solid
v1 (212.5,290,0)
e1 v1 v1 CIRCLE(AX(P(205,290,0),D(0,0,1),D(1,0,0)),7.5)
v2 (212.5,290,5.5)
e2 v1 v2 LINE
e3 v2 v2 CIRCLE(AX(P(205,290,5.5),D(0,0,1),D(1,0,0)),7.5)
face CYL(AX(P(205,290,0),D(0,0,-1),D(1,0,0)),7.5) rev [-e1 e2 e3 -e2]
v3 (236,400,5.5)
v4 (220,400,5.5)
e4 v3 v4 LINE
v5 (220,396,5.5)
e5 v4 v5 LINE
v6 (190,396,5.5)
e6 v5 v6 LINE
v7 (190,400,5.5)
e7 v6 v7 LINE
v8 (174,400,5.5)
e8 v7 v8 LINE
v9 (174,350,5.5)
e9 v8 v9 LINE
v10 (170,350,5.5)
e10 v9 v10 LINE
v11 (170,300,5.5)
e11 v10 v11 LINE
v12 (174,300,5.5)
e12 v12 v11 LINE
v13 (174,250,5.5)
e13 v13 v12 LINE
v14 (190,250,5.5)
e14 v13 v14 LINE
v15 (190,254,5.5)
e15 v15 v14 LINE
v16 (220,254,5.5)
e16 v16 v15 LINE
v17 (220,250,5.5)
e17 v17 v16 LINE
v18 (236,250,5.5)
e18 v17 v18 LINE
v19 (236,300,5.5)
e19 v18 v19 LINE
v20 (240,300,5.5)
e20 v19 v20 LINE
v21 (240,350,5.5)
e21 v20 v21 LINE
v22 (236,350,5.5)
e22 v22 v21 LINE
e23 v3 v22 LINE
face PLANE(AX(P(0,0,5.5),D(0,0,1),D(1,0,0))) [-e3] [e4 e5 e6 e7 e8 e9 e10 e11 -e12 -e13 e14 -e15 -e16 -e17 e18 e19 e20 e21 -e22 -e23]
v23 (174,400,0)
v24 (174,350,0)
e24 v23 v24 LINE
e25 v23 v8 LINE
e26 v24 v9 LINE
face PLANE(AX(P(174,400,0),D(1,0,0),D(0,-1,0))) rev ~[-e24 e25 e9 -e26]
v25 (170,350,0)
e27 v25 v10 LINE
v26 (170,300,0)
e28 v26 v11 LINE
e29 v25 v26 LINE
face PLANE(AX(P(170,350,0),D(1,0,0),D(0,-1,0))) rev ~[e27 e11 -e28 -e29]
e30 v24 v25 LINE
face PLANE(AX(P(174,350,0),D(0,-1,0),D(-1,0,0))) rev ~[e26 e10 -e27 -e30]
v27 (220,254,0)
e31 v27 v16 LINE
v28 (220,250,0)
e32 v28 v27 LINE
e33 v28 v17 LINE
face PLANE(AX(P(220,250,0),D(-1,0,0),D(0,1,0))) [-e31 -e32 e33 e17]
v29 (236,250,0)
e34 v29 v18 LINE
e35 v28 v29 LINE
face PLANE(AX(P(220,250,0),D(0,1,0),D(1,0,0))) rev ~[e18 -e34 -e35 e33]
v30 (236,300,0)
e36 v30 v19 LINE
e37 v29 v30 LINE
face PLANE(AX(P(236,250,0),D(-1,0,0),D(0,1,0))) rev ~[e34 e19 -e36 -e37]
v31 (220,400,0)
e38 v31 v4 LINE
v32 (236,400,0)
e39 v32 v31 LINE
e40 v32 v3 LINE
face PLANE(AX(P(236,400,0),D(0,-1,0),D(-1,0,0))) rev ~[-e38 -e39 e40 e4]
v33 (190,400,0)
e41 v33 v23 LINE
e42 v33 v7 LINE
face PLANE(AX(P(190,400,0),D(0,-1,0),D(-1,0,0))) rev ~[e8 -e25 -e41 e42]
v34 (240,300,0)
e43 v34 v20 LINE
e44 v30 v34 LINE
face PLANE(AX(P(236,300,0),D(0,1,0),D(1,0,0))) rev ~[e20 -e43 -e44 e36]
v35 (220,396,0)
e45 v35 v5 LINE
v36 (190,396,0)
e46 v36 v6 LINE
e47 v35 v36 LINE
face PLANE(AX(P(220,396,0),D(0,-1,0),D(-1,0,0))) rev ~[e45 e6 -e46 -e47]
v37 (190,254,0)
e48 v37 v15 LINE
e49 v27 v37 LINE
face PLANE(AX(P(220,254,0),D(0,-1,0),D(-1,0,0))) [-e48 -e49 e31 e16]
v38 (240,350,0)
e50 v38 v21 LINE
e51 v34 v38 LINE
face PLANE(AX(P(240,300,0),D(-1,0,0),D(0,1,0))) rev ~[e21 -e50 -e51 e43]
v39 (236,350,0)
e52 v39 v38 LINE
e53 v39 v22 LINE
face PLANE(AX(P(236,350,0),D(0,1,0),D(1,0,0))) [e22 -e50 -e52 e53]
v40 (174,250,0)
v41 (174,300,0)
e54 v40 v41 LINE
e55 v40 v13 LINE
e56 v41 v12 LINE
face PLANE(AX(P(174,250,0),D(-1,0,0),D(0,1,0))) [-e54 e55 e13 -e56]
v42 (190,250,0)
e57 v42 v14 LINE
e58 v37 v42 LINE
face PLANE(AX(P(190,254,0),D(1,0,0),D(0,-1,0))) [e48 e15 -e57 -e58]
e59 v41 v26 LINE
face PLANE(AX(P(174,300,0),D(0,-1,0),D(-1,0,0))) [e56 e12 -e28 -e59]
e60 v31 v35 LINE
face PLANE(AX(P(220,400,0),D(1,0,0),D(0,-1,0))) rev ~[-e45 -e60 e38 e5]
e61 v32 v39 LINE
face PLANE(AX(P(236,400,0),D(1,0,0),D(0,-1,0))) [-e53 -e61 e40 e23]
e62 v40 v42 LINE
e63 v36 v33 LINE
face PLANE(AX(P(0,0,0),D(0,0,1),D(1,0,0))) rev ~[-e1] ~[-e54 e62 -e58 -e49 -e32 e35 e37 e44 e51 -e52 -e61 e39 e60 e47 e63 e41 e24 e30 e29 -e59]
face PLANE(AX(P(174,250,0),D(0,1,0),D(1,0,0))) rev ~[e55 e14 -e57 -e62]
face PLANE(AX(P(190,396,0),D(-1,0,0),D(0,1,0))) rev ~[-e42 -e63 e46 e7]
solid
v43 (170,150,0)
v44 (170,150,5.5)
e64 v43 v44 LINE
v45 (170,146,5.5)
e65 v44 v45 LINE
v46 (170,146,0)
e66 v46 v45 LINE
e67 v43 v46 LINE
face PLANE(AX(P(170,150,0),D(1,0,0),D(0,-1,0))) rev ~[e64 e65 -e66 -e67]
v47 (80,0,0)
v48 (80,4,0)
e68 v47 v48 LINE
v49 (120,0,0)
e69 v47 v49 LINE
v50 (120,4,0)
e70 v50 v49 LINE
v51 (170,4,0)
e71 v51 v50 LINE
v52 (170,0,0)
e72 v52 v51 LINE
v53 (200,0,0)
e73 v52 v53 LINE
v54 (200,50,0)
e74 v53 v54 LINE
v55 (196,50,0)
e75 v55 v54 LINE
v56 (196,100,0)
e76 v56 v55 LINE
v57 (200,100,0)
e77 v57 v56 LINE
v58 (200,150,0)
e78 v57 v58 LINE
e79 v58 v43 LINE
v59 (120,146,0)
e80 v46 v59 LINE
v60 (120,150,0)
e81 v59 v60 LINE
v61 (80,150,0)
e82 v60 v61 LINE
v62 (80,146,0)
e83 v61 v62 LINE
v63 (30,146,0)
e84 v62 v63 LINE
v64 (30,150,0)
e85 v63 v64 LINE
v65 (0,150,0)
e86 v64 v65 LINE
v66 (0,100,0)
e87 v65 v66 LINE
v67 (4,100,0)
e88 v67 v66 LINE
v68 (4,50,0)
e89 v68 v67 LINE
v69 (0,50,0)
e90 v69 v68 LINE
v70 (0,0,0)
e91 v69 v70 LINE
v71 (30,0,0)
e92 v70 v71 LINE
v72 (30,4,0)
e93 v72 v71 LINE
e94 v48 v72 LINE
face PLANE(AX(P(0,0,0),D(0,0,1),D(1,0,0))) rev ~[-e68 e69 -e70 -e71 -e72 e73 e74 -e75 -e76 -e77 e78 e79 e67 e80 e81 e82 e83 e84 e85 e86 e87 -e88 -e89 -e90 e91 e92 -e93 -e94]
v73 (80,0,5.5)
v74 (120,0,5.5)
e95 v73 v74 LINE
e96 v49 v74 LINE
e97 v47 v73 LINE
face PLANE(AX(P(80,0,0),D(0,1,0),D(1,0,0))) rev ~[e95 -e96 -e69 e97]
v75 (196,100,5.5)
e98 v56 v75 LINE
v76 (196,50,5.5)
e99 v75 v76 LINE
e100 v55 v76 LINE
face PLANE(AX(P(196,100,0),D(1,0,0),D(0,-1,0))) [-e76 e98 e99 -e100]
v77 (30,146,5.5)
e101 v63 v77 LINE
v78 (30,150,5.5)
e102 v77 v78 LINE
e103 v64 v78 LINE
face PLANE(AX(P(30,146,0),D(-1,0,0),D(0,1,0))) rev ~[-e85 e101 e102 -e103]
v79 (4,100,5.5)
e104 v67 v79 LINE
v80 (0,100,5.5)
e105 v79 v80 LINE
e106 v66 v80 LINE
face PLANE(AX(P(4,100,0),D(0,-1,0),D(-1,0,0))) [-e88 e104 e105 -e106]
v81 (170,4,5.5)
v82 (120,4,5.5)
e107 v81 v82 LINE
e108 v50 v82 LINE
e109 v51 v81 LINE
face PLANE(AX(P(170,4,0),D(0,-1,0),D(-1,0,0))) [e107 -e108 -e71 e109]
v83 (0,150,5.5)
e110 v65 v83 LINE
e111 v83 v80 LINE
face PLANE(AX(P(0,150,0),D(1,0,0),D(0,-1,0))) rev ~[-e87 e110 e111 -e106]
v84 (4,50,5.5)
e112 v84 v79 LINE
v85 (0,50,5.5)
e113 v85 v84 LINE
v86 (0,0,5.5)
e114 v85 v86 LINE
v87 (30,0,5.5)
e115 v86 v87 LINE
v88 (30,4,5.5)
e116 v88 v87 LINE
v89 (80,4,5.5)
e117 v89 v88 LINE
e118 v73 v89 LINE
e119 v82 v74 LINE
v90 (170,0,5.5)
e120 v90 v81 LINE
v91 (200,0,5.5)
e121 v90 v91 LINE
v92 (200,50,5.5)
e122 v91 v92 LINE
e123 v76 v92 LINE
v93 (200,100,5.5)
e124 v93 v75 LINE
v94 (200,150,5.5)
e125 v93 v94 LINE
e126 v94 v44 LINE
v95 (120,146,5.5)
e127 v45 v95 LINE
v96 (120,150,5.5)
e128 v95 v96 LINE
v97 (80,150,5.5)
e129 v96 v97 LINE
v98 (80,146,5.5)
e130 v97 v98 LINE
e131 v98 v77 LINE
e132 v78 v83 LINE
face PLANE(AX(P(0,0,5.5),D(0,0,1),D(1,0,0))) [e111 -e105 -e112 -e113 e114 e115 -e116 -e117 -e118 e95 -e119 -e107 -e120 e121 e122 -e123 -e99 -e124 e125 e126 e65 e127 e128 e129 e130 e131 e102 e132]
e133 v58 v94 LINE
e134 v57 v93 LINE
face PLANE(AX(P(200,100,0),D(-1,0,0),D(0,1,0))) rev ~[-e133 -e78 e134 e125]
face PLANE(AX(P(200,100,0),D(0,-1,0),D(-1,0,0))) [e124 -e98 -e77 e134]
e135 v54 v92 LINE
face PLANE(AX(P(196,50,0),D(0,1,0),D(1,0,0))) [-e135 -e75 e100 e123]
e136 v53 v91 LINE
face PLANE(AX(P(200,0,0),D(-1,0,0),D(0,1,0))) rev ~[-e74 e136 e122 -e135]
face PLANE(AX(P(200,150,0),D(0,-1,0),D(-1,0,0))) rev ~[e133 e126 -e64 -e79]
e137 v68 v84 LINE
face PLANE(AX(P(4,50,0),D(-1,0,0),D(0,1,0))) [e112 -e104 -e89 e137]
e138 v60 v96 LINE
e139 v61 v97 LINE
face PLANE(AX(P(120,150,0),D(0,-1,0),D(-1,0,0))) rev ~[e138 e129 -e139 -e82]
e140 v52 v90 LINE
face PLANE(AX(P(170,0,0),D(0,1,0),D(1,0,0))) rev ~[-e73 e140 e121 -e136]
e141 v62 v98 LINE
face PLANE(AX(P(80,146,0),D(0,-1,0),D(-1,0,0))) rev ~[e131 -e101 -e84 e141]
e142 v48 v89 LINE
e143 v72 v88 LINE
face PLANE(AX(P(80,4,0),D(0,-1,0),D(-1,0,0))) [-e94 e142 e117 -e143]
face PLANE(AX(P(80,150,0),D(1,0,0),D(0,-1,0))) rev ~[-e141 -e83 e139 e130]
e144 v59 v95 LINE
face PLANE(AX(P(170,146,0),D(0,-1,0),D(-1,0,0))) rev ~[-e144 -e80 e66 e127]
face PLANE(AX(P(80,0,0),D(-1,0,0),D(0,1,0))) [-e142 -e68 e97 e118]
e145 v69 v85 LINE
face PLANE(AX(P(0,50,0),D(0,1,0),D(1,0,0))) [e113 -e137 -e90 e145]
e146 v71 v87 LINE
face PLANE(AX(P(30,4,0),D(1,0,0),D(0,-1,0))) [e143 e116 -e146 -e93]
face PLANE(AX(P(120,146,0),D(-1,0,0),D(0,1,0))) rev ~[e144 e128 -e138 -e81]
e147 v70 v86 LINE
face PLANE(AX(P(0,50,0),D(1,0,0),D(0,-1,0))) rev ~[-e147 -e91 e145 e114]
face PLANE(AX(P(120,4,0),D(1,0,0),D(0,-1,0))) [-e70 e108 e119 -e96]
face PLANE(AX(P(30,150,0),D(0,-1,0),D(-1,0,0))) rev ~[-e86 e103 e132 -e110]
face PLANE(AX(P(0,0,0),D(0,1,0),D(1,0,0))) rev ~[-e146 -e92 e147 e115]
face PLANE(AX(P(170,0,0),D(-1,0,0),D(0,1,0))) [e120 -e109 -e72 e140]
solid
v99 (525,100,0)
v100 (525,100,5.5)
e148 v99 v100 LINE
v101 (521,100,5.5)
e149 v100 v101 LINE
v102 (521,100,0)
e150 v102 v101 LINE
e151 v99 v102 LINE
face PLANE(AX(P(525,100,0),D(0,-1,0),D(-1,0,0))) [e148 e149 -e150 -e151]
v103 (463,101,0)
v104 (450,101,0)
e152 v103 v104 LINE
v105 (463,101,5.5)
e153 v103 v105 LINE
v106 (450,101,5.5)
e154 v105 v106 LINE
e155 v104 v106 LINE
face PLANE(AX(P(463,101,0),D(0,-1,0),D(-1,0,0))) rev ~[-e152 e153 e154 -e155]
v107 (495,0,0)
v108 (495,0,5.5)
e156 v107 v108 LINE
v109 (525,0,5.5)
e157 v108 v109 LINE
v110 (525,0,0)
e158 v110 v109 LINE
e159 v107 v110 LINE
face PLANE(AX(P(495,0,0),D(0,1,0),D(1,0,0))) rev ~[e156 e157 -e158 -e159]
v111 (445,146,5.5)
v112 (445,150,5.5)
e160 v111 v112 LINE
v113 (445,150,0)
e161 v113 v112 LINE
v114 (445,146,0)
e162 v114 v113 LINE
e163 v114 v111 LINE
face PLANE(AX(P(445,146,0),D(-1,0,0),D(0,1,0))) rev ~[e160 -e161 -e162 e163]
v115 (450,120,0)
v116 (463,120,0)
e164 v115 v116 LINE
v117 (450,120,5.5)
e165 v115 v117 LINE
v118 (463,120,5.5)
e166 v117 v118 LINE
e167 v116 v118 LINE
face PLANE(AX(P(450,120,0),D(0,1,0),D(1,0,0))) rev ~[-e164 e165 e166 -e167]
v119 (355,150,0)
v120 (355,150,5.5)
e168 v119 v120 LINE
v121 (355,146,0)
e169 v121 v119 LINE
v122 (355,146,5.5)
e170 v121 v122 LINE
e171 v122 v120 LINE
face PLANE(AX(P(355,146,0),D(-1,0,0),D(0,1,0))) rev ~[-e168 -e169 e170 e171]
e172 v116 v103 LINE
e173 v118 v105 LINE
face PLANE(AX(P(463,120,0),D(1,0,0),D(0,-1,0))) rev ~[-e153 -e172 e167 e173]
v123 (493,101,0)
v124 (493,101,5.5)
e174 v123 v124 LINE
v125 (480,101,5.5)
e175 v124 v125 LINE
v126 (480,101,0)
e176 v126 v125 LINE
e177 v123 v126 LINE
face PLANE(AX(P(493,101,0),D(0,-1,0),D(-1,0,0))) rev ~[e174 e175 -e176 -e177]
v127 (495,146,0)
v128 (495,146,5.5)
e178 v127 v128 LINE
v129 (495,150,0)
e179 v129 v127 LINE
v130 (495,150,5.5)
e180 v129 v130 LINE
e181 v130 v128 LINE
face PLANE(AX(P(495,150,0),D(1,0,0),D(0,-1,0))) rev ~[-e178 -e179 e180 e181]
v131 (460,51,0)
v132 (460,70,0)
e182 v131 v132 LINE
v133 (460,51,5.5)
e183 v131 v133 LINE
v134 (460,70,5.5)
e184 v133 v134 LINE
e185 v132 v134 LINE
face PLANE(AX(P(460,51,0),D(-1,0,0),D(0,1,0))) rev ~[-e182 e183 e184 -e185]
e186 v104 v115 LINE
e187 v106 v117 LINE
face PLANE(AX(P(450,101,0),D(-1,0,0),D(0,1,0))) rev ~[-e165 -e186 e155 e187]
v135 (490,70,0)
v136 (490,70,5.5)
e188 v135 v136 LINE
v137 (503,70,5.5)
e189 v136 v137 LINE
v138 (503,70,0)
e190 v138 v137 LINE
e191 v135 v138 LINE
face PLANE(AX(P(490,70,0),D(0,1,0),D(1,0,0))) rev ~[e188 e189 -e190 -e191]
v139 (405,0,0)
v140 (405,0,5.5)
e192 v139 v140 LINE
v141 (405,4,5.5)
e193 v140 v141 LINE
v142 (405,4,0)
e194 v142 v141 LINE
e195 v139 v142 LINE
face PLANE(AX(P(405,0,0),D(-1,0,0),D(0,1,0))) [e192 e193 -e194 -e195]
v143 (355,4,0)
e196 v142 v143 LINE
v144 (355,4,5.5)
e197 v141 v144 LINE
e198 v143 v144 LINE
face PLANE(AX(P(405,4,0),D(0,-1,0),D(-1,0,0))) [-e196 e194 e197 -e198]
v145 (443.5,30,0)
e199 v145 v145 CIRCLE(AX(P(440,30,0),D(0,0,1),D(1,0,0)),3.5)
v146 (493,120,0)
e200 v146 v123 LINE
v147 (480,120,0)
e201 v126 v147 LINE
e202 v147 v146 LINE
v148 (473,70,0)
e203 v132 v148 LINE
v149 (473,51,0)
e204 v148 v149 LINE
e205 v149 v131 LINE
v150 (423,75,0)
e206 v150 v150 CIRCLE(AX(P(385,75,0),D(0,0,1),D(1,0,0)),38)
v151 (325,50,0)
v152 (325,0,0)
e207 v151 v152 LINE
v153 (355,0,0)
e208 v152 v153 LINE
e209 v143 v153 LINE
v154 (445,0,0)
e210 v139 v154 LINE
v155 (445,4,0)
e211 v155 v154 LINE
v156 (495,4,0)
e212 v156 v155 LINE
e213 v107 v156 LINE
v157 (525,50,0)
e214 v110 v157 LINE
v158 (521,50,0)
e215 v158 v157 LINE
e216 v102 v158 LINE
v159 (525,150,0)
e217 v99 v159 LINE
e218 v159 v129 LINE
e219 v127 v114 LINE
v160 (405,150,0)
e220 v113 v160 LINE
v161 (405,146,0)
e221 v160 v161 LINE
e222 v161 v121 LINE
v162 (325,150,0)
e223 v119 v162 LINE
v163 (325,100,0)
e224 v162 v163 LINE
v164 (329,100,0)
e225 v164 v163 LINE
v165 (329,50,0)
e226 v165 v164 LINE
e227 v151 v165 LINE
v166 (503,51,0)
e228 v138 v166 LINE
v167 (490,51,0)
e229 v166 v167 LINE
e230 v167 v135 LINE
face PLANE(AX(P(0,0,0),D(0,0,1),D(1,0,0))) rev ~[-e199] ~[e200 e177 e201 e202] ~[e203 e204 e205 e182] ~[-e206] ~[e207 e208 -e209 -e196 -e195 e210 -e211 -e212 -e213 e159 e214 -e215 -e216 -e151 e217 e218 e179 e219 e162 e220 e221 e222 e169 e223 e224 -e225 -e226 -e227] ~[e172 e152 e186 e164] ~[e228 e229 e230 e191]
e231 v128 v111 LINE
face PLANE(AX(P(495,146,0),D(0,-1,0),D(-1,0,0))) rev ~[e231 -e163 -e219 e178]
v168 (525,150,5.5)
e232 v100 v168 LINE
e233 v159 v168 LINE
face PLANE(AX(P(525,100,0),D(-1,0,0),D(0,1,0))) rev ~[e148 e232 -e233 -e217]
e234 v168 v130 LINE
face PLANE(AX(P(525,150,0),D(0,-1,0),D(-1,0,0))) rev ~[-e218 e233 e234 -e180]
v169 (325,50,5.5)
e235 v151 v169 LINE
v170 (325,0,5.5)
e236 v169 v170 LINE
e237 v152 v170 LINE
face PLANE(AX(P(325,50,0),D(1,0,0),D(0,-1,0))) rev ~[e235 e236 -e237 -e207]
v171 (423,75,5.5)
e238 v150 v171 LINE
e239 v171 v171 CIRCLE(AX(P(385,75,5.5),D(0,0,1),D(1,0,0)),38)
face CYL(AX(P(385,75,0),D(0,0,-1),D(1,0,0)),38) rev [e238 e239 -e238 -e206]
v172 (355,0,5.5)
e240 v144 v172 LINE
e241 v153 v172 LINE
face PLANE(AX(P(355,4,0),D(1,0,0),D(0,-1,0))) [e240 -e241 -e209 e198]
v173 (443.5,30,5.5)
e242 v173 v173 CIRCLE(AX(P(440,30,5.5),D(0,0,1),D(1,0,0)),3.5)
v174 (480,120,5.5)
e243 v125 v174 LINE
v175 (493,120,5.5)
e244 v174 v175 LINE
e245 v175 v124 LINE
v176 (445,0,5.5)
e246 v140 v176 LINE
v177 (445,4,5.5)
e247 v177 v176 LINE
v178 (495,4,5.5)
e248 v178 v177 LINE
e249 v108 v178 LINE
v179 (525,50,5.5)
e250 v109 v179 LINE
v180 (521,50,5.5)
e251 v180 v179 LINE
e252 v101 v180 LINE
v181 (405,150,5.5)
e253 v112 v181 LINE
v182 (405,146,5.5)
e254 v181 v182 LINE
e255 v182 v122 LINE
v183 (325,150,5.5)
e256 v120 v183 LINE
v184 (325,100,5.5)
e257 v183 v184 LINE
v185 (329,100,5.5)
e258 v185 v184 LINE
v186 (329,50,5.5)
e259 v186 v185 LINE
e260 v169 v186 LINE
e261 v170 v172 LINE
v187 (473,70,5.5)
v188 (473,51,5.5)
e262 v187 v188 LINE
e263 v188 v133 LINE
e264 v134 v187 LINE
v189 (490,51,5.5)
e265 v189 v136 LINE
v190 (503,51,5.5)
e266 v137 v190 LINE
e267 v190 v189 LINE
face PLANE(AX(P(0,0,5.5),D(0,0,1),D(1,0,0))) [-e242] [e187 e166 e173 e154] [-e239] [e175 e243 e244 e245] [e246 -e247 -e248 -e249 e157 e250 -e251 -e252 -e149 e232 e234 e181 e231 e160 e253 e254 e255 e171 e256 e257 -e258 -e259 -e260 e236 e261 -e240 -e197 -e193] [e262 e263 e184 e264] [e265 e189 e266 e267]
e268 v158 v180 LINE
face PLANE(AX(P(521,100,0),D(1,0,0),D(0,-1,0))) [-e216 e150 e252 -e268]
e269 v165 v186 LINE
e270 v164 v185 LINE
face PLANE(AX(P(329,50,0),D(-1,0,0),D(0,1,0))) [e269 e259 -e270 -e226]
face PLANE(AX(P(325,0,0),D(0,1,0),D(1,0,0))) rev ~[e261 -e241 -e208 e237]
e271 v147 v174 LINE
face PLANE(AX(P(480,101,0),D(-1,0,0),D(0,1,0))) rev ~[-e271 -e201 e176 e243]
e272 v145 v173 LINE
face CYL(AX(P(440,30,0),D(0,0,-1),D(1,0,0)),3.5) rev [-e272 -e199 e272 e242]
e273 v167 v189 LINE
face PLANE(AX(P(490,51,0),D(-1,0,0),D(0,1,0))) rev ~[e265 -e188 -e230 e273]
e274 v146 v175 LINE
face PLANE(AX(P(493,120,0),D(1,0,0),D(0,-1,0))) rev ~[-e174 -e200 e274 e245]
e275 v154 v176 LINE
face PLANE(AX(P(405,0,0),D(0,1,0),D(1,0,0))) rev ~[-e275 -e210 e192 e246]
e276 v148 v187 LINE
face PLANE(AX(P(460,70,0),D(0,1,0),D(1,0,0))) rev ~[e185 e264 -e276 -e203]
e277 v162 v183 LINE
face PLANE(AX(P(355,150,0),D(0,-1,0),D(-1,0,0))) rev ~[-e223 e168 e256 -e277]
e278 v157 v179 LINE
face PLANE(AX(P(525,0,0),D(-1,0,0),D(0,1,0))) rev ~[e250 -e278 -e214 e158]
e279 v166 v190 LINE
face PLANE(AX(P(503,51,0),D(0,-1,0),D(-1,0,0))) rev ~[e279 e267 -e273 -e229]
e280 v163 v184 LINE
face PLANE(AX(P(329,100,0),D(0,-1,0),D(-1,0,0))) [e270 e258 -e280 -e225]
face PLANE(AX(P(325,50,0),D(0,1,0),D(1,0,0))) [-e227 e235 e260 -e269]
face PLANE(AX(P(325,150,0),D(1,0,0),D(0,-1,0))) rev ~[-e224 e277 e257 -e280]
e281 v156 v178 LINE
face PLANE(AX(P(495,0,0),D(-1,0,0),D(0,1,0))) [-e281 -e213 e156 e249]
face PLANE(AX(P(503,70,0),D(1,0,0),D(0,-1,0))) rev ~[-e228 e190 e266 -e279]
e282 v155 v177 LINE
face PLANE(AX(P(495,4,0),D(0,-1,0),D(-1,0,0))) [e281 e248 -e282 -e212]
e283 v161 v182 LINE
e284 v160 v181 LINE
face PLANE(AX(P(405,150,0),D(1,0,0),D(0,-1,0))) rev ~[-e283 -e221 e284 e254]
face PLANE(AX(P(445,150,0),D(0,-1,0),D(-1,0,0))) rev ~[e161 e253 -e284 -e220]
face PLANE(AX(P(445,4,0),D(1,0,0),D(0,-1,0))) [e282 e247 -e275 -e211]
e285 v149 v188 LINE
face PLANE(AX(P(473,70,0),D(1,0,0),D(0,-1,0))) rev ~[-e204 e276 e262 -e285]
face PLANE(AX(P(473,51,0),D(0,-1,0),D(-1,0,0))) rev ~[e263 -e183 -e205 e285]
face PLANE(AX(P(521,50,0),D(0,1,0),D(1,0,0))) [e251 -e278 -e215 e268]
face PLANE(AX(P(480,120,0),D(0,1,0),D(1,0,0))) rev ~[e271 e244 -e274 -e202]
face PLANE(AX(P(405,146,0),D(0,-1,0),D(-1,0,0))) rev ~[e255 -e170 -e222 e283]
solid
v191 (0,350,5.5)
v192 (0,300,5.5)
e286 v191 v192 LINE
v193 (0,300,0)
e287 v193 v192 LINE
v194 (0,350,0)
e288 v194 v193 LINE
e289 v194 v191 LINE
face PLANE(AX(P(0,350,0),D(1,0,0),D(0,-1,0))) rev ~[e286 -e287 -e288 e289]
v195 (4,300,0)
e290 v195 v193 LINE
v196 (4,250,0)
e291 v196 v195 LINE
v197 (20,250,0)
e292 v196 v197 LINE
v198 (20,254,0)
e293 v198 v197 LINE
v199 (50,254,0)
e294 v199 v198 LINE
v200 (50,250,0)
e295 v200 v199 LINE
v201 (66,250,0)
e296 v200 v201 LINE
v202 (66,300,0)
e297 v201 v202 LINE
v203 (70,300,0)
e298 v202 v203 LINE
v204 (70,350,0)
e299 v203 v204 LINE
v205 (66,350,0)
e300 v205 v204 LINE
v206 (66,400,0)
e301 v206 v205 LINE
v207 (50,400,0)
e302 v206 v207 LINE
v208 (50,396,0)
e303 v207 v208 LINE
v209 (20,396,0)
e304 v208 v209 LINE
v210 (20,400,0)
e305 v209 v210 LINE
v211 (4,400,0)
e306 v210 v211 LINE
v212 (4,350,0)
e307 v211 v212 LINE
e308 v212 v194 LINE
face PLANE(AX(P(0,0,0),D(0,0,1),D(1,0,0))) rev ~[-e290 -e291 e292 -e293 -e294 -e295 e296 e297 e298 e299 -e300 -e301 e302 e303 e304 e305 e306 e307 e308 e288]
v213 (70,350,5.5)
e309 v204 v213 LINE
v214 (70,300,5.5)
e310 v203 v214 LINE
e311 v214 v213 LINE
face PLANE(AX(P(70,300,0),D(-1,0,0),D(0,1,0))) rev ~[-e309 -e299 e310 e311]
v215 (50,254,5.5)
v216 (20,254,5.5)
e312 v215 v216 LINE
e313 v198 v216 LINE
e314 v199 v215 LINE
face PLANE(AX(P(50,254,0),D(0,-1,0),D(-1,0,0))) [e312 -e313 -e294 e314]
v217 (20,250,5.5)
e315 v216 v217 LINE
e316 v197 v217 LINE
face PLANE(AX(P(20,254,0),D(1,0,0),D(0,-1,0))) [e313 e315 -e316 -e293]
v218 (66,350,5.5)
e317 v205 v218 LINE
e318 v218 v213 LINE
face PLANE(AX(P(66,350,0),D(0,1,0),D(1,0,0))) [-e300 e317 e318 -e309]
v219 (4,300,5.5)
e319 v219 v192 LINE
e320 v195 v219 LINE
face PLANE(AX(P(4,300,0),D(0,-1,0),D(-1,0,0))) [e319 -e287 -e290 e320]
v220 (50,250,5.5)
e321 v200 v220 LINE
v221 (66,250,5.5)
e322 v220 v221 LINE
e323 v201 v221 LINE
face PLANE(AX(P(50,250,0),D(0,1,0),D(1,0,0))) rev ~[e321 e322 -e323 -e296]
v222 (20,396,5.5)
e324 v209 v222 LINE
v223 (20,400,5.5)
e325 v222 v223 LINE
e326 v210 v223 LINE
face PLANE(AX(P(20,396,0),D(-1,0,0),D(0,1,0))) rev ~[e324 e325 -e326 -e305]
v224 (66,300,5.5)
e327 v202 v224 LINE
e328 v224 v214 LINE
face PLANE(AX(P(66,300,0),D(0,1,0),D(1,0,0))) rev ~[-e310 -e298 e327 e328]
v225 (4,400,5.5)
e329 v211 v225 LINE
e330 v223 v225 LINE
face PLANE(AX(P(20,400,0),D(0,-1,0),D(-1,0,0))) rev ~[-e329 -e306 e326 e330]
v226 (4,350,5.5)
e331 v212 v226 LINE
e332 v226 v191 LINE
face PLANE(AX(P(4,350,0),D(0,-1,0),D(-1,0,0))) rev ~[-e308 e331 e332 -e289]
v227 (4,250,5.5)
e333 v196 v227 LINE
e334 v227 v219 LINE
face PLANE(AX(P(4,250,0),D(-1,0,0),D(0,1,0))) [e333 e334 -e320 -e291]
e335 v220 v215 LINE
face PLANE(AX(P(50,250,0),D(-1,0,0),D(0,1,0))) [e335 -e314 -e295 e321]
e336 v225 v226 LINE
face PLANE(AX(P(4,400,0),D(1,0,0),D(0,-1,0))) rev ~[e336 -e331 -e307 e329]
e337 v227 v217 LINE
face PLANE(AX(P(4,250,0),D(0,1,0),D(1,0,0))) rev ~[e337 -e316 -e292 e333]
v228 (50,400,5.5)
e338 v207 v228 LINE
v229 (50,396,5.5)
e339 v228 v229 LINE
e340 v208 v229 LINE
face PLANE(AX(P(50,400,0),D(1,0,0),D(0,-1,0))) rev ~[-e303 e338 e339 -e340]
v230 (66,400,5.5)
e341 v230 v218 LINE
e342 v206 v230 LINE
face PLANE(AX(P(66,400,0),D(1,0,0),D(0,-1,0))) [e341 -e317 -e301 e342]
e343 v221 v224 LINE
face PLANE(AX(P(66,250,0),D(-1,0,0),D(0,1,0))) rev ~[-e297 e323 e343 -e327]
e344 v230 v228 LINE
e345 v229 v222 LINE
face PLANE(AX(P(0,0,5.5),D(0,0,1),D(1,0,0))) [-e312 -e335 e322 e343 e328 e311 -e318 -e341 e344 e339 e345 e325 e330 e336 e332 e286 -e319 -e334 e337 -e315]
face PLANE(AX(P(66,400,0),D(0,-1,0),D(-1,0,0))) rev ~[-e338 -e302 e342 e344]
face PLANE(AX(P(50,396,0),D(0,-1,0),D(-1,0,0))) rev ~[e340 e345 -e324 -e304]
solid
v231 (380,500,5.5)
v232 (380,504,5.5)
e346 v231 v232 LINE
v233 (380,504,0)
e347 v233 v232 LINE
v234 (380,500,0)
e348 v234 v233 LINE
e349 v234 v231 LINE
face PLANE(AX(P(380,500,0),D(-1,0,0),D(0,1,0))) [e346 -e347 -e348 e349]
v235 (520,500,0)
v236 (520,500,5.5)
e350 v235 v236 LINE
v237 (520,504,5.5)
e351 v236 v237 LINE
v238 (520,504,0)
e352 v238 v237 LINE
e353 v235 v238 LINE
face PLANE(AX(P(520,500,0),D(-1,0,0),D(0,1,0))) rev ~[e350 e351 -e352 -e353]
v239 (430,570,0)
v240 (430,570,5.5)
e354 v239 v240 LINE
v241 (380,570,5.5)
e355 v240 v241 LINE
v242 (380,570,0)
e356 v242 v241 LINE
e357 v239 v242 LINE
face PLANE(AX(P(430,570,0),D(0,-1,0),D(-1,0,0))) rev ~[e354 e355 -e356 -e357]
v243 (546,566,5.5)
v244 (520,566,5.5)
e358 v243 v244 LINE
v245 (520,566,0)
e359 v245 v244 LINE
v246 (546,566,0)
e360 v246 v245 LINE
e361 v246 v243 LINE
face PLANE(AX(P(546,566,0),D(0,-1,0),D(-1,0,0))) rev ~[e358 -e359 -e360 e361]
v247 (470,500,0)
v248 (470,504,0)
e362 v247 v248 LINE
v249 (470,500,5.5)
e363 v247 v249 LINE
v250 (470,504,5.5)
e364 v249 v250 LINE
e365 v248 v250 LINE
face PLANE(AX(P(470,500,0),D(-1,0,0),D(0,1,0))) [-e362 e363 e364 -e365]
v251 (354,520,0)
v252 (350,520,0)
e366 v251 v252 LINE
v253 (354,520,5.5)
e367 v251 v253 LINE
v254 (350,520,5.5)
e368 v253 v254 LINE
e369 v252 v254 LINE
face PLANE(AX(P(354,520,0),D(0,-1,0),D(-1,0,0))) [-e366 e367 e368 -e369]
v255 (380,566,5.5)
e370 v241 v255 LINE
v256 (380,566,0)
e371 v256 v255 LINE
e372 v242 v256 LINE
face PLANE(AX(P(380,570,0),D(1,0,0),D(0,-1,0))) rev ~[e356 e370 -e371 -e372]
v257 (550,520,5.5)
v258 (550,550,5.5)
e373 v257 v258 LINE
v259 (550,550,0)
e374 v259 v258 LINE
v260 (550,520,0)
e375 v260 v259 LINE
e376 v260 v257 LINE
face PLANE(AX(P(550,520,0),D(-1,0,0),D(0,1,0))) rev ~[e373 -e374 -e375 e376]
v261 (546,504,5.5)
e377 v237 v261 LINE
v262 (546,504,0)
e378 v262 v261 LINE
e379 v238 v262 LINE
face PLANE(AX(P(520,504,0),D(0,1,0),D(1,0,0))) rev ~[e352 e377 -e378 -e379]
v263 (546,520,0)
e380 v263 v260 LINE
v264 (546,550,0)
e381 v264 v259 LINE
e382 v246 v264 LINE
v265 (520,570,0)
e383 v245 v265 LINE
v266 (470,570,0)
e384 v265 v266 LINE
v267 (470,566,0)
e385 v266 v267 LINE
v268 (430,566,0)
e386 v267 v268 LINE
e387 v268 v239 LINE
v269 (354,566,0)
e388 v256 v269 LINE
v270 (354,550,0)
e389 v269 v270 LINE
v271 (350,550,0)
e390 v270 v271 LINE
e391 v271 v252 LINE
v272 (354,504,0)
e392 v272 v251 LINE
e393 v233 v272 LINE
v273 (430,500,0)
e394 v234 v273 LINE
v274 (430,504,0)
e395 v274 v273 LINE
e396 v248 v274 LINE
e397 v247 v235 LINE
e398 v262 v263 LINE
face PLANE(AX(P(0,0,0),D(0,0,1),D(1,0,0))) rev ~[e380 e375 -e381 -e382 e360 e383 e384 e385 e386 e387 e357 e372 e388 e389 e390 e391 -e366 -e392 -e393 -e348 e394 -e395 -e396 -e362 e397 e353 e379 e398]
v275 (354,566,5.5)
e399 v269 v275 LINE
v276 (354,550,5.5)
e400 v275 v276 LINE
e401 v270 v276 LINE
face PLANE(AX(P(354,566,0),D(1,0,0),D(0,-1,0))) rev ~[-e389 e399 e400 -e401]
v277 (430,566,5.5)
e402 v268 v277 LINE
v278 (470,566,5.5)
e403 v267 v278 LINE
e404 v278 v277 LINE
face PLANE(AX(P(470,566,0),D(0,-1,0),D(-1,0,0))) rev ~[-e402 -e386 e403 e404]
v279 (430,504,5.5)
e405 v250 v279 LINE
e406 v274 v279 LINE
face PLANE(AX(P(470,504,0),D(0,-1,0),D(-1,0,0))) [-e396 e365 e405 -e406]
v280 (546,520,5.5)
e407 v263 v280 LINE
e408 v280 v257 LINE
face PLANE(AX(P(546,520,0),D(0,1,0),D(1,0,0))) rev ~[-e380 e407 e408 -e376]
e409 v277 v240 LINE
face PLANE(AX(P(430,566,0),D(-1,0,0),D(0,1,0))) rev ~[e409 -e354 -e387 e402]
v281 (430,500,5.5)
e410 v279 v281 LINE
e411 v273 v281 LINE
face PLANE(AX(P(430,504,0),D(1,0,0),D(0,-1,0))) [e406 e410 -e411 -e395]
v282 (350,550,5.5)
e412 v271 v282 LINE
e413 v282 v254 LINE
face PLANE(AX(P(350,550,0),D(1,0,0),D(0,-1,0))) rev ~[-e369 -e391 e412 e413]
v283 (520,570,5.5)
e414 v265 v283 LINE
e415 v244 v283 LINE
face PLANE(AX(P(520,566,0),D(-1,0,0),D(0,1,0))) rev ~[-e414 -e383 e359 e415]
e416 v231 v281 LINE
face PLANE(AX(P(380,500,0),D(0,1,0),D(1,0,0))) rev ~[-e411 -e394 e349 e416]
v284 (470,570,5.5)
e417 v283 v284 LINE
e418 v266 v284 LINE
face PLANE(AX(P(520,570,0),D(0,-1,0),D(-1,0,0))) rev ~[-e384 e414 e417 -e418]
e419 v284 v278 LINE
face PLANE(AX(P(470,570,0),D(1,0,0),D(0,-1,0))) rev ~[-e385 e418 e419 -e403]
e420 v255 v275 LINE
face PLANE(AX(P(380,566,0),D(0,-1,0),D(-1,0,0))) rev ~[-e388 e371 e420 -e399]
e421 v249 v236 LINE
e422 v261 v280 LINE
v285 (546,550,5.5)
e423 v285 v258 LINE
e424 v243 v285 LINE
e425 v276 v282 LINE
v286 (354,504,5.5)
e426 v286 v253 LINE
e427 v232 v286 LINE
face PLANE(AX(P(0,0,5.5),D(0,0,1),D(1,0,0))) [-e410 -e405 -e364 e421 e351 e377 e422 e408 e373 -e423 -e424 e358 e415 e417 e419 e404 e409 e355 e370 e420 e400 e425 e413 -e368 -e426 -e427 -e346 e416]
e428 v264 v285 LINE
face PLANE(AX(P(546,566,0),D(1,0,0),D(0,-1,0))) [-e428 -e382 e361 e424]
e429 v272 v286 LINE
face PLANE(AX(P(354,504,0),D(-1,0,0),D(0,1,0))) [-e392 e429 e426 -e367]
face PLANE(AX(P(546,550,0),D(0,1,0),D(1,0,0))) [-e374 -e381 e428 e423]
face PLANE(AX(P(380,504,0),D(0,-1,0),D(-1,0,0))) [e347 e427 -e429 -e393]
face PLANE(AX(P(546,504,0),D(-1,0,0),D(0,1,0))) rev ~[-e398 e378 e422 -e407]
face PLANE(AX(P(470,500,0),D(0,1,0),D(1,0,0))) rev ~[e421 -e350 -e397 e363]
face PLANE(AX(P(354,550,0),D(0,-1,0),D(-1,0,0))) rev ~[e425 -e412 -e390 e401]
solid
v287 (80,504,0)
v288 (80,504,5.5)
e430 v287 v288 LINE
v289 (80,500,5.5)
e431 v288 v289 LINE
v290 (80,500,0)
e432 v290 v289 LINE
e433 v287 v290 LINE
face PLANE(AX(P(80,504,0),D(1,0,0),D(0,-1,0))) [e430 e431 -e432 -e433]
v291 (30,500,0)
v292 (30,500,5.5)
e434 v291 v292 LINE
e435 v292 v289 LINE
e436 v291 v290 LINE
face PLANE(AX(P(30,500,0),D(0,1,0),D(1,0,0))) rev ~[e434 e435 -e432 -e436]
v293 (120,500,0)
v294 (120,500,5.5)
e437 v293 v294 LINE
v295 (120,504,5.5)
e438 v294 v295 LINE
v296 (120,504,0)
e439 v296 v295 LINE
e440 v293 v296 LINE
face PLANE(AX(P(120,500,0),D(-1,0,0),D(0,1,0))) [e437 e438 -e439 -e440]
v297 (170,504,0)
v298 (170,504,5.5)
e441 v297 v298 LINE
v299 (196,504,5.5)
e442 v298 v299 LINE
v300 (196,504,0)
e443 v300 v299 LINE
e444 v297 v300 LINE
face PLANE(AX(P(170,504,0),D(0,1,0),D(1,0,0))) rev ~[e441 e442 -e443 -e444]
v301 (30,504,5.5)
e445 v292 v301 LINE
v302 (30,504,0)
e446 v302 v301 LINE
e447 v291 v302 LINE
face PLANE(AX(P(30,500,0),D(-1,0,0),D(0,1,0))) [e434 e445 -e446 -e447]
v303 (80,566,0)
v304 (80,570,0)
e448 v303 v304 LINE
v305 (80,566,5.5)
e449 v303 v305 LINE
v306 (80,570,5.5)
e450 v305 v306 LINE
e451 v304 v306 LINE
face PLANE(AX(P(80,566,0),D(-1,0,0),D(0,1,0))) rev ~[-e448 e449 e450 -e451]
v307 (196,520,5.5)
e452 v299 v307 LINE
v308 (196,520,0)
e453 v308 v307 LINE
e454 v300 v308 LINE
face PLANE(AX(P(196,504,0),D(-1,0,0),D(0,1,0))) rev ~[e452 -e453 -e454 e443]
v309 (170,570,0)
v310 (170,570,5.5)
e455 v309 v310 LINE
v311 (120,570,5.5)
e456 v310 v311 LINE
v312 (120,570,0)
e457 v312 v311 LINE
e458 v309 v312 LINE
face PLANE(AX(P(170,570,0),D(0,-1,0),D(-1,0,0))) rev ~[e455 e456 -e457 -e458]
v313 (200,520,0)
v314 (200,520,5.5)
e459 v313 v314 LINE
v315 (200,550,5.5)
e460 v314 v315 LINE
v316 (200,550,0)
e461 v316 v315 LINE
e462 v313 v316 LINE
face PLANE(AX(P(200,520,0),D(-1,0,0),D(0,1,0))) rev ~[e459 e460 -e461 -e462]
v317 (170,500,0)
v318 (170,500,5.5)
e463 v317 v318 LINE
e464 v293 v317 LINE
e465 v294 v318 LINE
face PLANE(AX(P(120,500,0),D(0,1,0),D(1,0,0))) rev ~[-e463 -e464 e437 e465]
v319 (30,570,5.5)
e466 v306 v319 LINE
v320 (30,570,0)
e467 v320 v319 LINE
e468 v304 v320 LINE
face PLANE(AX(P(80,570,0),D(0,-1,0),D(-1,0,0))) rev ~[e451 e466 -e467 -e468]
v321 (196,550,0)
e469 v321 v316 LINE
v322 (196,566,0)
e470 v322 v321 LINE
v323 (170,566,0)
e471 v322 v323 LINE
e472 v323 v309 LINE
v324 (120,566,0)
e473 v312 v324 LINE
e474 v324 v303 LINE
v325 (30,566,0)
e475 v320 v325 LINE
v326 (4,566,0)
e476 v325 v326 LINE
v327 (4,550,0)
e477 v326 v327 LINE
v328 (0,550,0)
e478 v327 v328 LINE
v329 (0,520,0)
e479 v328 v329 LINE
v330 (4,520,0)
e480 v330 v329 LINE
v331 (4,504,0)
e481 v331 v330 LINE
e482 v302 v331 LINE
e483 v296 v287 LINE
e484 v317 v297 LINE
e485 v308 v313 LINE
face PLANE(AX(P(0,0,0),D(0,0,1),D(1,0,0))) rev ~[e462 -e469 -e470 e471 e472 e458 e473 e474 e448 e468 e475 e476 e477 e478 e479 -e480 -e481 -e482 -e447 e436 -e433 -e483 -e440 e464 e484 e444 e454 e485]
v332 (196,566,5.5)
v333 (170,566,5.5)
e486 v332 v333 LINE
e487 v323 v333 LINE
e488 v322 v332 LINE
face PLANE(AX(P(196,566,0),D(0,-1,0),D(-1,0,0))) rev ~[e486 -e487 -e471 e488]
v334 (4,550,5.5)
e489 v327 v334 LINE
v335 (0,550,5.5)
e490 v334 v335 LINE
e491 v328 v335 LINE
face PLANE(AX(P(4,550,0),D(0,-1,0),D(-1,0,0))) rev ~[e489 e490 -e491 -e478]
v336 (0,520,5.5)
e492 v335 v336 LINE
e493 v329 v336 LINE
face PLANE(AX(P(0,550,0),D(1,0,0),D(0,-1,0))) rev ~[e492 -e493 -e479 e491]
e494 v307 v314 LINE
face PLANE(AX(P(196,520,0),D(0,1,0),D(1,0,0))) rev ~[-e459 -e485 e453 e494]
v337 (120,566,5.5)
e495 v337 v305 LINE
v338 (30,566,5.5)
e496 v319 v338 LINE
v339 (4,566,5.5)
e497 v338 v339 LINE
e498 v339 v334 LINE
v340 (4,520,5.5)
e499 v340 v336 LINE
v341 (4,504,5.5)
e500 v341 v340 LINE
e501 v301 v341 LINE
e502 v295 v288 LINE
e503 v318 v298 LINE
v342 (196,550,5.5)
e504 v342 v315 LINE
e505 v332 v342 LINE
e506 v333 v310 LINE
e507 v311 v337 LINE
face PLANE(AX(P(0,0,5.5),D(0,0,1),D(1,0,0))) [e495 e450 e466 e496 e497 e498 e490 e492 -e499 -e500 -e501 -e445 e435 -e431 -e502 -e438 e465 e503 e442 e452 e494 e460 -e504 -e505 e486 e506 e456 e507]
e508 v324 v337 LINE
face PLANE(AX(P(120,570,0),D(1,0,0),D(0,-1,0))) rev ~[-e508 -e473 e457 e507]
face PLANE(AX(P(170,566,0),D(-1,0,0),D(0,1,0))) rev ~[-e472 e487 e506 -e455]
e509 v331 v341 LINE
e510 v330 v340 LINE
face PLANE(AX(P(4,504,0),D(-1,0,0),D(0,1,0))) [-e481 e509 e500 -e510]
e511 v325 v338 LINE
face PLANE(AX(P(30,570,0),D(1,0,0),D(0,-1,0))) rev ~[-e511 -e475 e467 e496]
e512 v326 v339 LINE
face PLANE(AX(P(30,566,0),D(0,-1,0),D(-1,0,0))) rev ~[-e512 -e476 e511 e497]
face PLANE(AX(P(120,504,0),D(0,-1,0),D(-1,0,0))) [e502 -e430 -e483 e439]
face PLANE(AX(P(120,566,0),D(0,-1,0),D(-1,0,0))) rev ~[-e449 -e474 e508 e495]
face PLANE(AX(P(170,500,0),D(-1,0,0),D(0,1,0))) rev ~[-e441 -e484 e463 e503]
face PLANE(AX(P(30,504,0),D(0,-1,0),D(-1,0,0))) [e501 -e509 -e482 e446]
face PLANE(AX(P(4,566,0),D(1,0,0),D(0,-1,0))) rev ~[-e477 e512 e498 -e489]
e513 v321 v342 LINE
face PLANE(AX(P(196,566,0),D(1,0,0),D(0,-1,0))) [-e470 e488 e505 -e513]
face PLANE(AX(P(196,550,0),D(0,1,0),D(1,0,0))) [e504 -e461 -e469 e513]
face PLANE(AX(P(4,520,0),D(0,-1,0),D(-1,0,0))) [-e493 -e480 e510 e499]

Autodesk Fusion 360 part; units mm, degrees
sketch "スケッチ1" plane through (0, 0, 0) normal (0, 0, 1) x (1, 0, 0)
  line L0 (0, 0) -> (200, 0)
  line L1 (200, 0) -> (200, 150)
  line L2 (200, 150) -> (0, 150)
  line L3 (0, 150) -> (0, 0)
  line L4 (30, 150) -> (80, 150)
  line L5 (80, 150) -> (80, 146)
  line L6 (80, 146) -> (30, 146)
  line L7 (30, 146) -> (30, 150)
  line L8 (120, 150) -> (170, 150)
  line L9 (170, 150) -> (170, 146)
  line L10 (170, 146) -> (120, 146)
  line L11 (120, 146) -> (120, 150)
  line L12 (0, 50) -> (4, 50)
  line L13 (4, 50) -> (4, 100)
  line L14 (4, 100) -> (0, 100)
  line L15 (0, 100) -> (0, 50)
  line L16 (200, 100) -> (196, 100)
  line L17 (196, 100) -> (196, 50)
  line L18 (196, 50) -> (200, 50)
  line L19 (200, 50) -> (200, 100)
  line L20 (30, 0) -> (80, 0)
  line L21 (80, 0) -> (80, 4)
  line L22 (80, 4) -> (30, 4)
  line L23 (30, 4) -> (30, 0)
  line L24 (120, 0) -> (170, 0)
  line L25 (170, 0) -> (170, 4)
  line L26 (170, 4) -> (120, 4)
  line L27 (120, 4) -> (120, 0)
  line L28 (325, 100) -> (325, 50)
  line L29 (525, 150) -> (325, 150)
  line L30 (405, 146) -> (355, 146)
  line L31 (355, 146) -> (355, 150)
  line L32 (405, 4) -> (355, 4)
  line L33 (521, 100) -> (521, 50)
  line L34 (445, 4) -> (445, 0)
  line L35 (495, 146) -> (445, 146)
  line L36 (525, 100) -> (521, 100)
  line L37 (521, 50) -> (525, 50)
  line L38 (355, 0) -> (405, 0)
  line L39 (525, 0) -> (525, 150)
  line L40 (495, 0) -> (495, 4)
  line L41 (405, 0) -> (405, 4)
  line L42 (355, 4) -> (355, 0)
  line L43 (445, 146) -> (445, 150)
  line L44 (325, 0) -> (525, 0)
  line L45 (325, 50) -> (329, 50)
  line L46 (525, 50) -> (525, 100)
  line L47 (329, 100) -> (325, 100)
  line L48 (325, 150) -> (325, 0)
  line L49 (445, 150) -> (495, 150)
  line L50 (495, 4) -> (445, 4)
  line L51 (329, 50) -> (329, 100)
  line L52 (495, 150) -> (495, 146)
  line L53 (355, 150) -> (405, 150)
  line L54 (405, 150) -> (405, 146)
  line L55 (445, 0) -> (495, 0)
  line L56 (0, 250) -> (70, 250)
  line L57 (70, 250) -> (70, 400)
  line L58 (70, 400) -> (0, 400)
  line L59 (0, 400) -> (0, 250)
  line L60 (0, 400) -> (4, 400)
  line L61 (4, 400) -> (4, 350)
  line L62 (4, 350) -> (0, 350)
  line L63 (0, 350) -> (0, 400)
  line L64 (0, 250) -> (4, 250)
  line L65 (4, 250) -> (4, 300)
  line L66 (4, 300) -> (0, 300)
  line L67 (0, 300) -> (0, 250)
  line L68 (70, 400) -> (66, 400)
  line L69 (66, 400) -> (66, 350)
  line L70 (66, 350) -> (70, 350)
  line L71 (70, 350) -> (70, 400)
  line L72 (70, 250) -> (66, 250)
  line L73 (66, 250) -> (66, 300)
  line L74 (66, 300) -> (70, 300)
  line L75 (70, 300) -> (70, 250)
  line L76 (20, 400) -> (50, 400)
  line L77 (50, 400) -> (50, 396)
  line L78 (50, 396) -> (20, 396)
  line L79 (20, 396) -> (20, 400)
  line L80 (20, 250) -> (50, 250)
  line L81 (50, 250) -> (50, 254)
  line L82 (50, 254) -> (20, 254)
  line L83 (20, 254) -> (20, 250)
  line L84 (220, 396) -> (190, 396)
  line L85 (240, 250) -> (240, 400)
  line L86 (236, 350) -> (240, 350)
  line L87 (170, 400) -> (174, 400)
  line L88 (240, 400) -> (236, 400)
  line L89 (174, 250) -> (174, 300)
  line L90 (174, 350) -> (170, 350)
  line L91 (240, 350) -> (240, 400)
  line L92 (236, 250) -> (236, 300)
  line L93 (190, 254) -> (190, 250)
  line L94 (170, 250) -> (240, 250)
  line L95 (240, 300) -> (240, 250)
  line L96 (220, 400) -> (220, 396)
  line L97 (190, 250) -> (220, 250)
  line L98 (240, 250) -> (236, 250)
  line L99 (170, 300) -> (170, 250)
  line L100 (220, 254) -> (190, 254)
  line L101 (170, 250) -> (174, 250)
  line L102 (174, 300) -> (170, 300)
  line L103 (170, 350) -> (170, 400)
  line L104 (174, 400) -> (174, 350)
  line L105 (190, 396) -> (190, 400)
  line L106 (170, 400) -> (170, 250)
  line L107 (236, 300) -> (240, 300)
  line L108 (236, 400) -> (236, 350)
  line L109 (220, 250) -> (220, 254)
  line L110 (240, 400) -> (170, 400)
  line L111 (190, 400) -> (220, 400)
  line L112 (0, 500) -> (200, 500)
  line L113 (200, 500) -> (200, 570)
  line L114 (200, 570) -> (0, 570)
  line L115 (0, 570) -> (0, 500)
  line L116 (0, 570) -> (4, 570)
  line L117 (4, 570) -> (4, 550)
  line L118 (4, 550) -> (0, 550)
  line L119 (0, 550) -> (0, 570)
  line L120 (0, 500) -> (4, 500)
  line L121 (4, 500) -> (4, 520)
  line L122 (4, 520) -> (0, 520)
  line L123 (0, 520) -> (0, 500)
  line L124 (200, 570) -> (196, 570)
  line L125 (196, 570) -> (196, 550)
  line L126 (196, 550) -> (200, 550)
  line L127 (200, 550) -> (200, 570)
  line L128 (200, 500) -> (196, 500)
  line L129 (196, 500) -> (196, 520)
  line L130 (196, 520) -> (200, 520)
  line L131 (200, 520) -> (200, 500)
  line L132 (0, 570) -> (30, 570)
  line L133 (30, 570) -> (30, 566)
  line L134 (30, 566) -> (0, 566)
  line L135 (0, 566) -> (0, 570)
  line L136 (80, 570) -> (120, 570)
  line L137 (120, 570) -> (120, 566)
  line L138 (120, 566) -> (80, 566)
  line L139 (80, 566) -> (80, 570)
  line L140 (170, 570) -> (200, 570)
  line L141 (200, 570) -> (200, 566)
  line L142 (200, 566) -> (170, 566)
  line L143 (170, 566) -> (170, 570)
  line L144 (0, 500) -> (30, 500)
  line L145 (30, 500) -> (30, 504)
  line L146 (30, 504) -> (0, 504)
  line L147 (0, 504) -> (0, 500)
  line L148 (200, 500) -> (170, 500)
  line L149 (170, 500) -> (170, 504)
  line L150 (170, 504) -> (200, 504)
  line L151 (200, 504) -> (200, 500)
  line L152 (80, 500) -> (120, 500)
  line L153 (120, 500) -> (120, 504)
  line L154 (120, 504) -> (80, 504)
  line L155 (80, 504) -> (80, 500)
  line L156 (350, 570) -> (350, 500)
  line L157 (350, 550) -> (350, 570)
  line L158 (350, 504) -> (350, 500)
  line L159 (350, 566) -> (350, 570)
  line L160 (350, 570) -> (380, 570)
  line L161 (354, 550) -> (350, 550)
  line L162 (380, 500) -> (380, 504)
  line L163 (354, 520) -> (350, 520)
  line L164 (350, 500) -> (354, 500)
  line L165 (380, 504) -> (350, 504)
  line L166 (350, 520) -> (350, 500)
  line L167 (350, 500) -> (380, 500)
  line L168 (550, 520) -> (550, 500)
  line L169 (520, 504) -> (550, 504)
  line L170 (550, 550) -> (550, 570)
  line L171 (550, 570) -> (550, 566)
  line L172 (546, 570) -> (546, 550)
  line L173 (550, 504) -> (550, 500)
  line L174 (546, 550) -> (550, 550)
  line L175 (550, 566) -> (520, 566)
  line L176 (430, 570) -> (470, 570)
  line L177 (470, 500) -> (470, 504)
  line L178 (380, 566) -> (350, 566)
  line L179 (430, 566) -> (430, 570)
  line L180 (350, 570) -> (354, 570)
  line L181 (380, 570) -> (380, 566)
  line L182 (354, 500) -> (354, 520)
  line L183 (430, 504) -> (430, 500)
  line L184 (550, 500) -> (550, 570)
  line L185 (354, 570) -> (354, 550)
  line L186 (550, 570) -> (546, 570)
  line L187 (546, 520) -> (550, 520)
  line L188 (470, 570) -> (470, 566)
  line L189 (430, 500) -> (470, 500)
  line L190 (520, 500) -> (520, 504)
  line L191 (350, 500) -> (550, 500)
  line L192 (470, 566) -> (430, 566)
  line L193 (470, 504) -> (430, 504)
  line L194 (550, 500) -> (520, 500)
  line L195 (546, 500) -> (546, 520)
  line L196 (520, 566) -> (520, 570)
  line L197 (550, 570) -> (350, 570)
  line L198 (550, 500) -> (546, 500)
  line L199 (520, 570) -> (550, 570)
  circle A0 centre (205, 290) radius 7.5
  circle A1 centre (385, 75) radius 38
  line L200 (450, 120) -> (463, 120)
  line L201 (463, 120) -> (463, 101)
  line L202 (463, 101) -> (450, 101)
  line L203 (450, 101) -> (450, 120)
  line L204 (480, 120) -> (493, 120)
  line L205 (493, 120) -> (493, 101)
  line L206 (480, 101) -> (480, 120)
  line L207 (493, 101) -> (480, 101)
  line L208 (490, 70) -> (503, 70)
  line L209 (460, 70) -> (473, 70)
  line L210 (503, 70) -> (503, 51)
  line L211 (460, 51) -> (460, 70)
  line L212 (503, 51) -> (490, 51)
  line L213 (490, 51) -> (490, 70)
  line L214 (473, 70) -> (473, 51)
  line L215 (473, 51) -> (460, 51)
  circle A2 centre (440, 30) radius 3.5
  point P0 (325, 0)
  dimension "d2" = 200
  dimension "d3" = 150
  dimension "d4" = 4
  dimension "d5" = 4
  dimension "d6" = 4
  dimension "d7" = 4
  dimension "d8" = 4
  dimension "d9" = 50
  dimension "d10" = 4
  dimension "d11" = 200
  dimension "d12" = 150
  dimension "d13" = 4
  dimension "d14" = 4
  dimension "d15" = 4
  dimension "d16" = 4
  dimension "d17" = 4
  dimension "d18" = 50
  dimension "d19" = 4
  dimension "d20" = 70
  dimension "d21" = 150
  dimension "d22" = 4
  dimension "d23" = 4
  dimension "d24" = 4
  dimension "d25" = 4
  dimension "d26" = 30
  dimension "d27" = 4
  dimension "d28" = 4
  dimension "d29" = 70
  dimension "d30" = 150
  dimension "d31" = 4
  dimension "d32" = 4
  dimension "d33" = 4
  dimension "d34" = 4
  dimension "d35" = 30
  dimension "d36" = 4
  dimension "d37" = 4
  dimension "d38" = 200
  dimension "d39" = 70
  dimension "d40" = 4
  dimension "d41" = 4
  dimension "d42" = 4
  dimension "d43" = 4
  dimension "d44" = 4
  dimension "d45" = 4
  dimension "d46" = 4
  dimension "d47" = 4
  dimension "d48" = 4
  dimension "d49" = 4
  dimension "d50" = 200
  dimension "d51" = 70
  dimension "d52" = 4
  dimension "d53" = 4
  dimension "d54" = 4
  dimension "d55" = 4
  dimension "d56" = 4
  dimension "d57" = 4
  dimension "d58" = 4
  dimension "d59" = 4
  dimension "d60" = 4
  dimension "d61" = 4
  dimension "d62" = 15
  dimension "d63" = 76
  dimension "d64" = 13
  dimension "d65" = 19
  dimension "d66" = 13
  dimension "d67" = 19
  dimension "d68" = 13
  dimension "d69" = 19
  dimension "d70" = 13
  dimension "d71" = 19
  dimension "d72" = 7
sketch "スケッチ2" plane through (0, 0, 0) normal (0, 0, 1) x (1, 0, 0)
extrude "押し出し1" add sketch "スケッチ1" along normal blind 5.5 contours L0 L1 L2 L3 L5 L6 L7 L9 L10 L11 L12 L13 L14 L16 L17 L18 L21 L22 L23 L25 L26 L27 | L29 L30 L31 L32 L33 L34 L35 L36 L37 L39 L40 L41 L42 L43 L44 L45 L47 L48 L50 L51 L52 L54 | L56 L57 L58 L59 L61 L62 L65 L66 L69 L70 L73 L74 L77 L78 L79 L81 L82 L83 | L84 L85 L86 L89 L90 L92 L93 L94 L96 L100 L102 L104 L105 L106 L107 L108 L109 L110 | L112 L113 L114 L115 L117 L118 L121 L122 L125 L126 L129 L130 L133 L134 L137 L138 L139 L142 L143 L145 L146 L149 L150 L153 L154 L155 | L156 L161 L162 L163 L165 L169 L172 L174 L175 L177 L178 L179 L181 L182 L183 L184 L185 L187 L188 L190 L191 L192 L193 L195 L196 L197 makes body 1 at (40, 284.6667, 0) makes body 2 at (46.6667, 545.3333, 0) makes body 3 at (54.6667, 66.6667, 0) makes body 4 at (204.8132, 332.493, 0) makes body 5 at (396.6667, 545.3333, 0) makes body 6 at (470.4482, 27.9895, 0)
